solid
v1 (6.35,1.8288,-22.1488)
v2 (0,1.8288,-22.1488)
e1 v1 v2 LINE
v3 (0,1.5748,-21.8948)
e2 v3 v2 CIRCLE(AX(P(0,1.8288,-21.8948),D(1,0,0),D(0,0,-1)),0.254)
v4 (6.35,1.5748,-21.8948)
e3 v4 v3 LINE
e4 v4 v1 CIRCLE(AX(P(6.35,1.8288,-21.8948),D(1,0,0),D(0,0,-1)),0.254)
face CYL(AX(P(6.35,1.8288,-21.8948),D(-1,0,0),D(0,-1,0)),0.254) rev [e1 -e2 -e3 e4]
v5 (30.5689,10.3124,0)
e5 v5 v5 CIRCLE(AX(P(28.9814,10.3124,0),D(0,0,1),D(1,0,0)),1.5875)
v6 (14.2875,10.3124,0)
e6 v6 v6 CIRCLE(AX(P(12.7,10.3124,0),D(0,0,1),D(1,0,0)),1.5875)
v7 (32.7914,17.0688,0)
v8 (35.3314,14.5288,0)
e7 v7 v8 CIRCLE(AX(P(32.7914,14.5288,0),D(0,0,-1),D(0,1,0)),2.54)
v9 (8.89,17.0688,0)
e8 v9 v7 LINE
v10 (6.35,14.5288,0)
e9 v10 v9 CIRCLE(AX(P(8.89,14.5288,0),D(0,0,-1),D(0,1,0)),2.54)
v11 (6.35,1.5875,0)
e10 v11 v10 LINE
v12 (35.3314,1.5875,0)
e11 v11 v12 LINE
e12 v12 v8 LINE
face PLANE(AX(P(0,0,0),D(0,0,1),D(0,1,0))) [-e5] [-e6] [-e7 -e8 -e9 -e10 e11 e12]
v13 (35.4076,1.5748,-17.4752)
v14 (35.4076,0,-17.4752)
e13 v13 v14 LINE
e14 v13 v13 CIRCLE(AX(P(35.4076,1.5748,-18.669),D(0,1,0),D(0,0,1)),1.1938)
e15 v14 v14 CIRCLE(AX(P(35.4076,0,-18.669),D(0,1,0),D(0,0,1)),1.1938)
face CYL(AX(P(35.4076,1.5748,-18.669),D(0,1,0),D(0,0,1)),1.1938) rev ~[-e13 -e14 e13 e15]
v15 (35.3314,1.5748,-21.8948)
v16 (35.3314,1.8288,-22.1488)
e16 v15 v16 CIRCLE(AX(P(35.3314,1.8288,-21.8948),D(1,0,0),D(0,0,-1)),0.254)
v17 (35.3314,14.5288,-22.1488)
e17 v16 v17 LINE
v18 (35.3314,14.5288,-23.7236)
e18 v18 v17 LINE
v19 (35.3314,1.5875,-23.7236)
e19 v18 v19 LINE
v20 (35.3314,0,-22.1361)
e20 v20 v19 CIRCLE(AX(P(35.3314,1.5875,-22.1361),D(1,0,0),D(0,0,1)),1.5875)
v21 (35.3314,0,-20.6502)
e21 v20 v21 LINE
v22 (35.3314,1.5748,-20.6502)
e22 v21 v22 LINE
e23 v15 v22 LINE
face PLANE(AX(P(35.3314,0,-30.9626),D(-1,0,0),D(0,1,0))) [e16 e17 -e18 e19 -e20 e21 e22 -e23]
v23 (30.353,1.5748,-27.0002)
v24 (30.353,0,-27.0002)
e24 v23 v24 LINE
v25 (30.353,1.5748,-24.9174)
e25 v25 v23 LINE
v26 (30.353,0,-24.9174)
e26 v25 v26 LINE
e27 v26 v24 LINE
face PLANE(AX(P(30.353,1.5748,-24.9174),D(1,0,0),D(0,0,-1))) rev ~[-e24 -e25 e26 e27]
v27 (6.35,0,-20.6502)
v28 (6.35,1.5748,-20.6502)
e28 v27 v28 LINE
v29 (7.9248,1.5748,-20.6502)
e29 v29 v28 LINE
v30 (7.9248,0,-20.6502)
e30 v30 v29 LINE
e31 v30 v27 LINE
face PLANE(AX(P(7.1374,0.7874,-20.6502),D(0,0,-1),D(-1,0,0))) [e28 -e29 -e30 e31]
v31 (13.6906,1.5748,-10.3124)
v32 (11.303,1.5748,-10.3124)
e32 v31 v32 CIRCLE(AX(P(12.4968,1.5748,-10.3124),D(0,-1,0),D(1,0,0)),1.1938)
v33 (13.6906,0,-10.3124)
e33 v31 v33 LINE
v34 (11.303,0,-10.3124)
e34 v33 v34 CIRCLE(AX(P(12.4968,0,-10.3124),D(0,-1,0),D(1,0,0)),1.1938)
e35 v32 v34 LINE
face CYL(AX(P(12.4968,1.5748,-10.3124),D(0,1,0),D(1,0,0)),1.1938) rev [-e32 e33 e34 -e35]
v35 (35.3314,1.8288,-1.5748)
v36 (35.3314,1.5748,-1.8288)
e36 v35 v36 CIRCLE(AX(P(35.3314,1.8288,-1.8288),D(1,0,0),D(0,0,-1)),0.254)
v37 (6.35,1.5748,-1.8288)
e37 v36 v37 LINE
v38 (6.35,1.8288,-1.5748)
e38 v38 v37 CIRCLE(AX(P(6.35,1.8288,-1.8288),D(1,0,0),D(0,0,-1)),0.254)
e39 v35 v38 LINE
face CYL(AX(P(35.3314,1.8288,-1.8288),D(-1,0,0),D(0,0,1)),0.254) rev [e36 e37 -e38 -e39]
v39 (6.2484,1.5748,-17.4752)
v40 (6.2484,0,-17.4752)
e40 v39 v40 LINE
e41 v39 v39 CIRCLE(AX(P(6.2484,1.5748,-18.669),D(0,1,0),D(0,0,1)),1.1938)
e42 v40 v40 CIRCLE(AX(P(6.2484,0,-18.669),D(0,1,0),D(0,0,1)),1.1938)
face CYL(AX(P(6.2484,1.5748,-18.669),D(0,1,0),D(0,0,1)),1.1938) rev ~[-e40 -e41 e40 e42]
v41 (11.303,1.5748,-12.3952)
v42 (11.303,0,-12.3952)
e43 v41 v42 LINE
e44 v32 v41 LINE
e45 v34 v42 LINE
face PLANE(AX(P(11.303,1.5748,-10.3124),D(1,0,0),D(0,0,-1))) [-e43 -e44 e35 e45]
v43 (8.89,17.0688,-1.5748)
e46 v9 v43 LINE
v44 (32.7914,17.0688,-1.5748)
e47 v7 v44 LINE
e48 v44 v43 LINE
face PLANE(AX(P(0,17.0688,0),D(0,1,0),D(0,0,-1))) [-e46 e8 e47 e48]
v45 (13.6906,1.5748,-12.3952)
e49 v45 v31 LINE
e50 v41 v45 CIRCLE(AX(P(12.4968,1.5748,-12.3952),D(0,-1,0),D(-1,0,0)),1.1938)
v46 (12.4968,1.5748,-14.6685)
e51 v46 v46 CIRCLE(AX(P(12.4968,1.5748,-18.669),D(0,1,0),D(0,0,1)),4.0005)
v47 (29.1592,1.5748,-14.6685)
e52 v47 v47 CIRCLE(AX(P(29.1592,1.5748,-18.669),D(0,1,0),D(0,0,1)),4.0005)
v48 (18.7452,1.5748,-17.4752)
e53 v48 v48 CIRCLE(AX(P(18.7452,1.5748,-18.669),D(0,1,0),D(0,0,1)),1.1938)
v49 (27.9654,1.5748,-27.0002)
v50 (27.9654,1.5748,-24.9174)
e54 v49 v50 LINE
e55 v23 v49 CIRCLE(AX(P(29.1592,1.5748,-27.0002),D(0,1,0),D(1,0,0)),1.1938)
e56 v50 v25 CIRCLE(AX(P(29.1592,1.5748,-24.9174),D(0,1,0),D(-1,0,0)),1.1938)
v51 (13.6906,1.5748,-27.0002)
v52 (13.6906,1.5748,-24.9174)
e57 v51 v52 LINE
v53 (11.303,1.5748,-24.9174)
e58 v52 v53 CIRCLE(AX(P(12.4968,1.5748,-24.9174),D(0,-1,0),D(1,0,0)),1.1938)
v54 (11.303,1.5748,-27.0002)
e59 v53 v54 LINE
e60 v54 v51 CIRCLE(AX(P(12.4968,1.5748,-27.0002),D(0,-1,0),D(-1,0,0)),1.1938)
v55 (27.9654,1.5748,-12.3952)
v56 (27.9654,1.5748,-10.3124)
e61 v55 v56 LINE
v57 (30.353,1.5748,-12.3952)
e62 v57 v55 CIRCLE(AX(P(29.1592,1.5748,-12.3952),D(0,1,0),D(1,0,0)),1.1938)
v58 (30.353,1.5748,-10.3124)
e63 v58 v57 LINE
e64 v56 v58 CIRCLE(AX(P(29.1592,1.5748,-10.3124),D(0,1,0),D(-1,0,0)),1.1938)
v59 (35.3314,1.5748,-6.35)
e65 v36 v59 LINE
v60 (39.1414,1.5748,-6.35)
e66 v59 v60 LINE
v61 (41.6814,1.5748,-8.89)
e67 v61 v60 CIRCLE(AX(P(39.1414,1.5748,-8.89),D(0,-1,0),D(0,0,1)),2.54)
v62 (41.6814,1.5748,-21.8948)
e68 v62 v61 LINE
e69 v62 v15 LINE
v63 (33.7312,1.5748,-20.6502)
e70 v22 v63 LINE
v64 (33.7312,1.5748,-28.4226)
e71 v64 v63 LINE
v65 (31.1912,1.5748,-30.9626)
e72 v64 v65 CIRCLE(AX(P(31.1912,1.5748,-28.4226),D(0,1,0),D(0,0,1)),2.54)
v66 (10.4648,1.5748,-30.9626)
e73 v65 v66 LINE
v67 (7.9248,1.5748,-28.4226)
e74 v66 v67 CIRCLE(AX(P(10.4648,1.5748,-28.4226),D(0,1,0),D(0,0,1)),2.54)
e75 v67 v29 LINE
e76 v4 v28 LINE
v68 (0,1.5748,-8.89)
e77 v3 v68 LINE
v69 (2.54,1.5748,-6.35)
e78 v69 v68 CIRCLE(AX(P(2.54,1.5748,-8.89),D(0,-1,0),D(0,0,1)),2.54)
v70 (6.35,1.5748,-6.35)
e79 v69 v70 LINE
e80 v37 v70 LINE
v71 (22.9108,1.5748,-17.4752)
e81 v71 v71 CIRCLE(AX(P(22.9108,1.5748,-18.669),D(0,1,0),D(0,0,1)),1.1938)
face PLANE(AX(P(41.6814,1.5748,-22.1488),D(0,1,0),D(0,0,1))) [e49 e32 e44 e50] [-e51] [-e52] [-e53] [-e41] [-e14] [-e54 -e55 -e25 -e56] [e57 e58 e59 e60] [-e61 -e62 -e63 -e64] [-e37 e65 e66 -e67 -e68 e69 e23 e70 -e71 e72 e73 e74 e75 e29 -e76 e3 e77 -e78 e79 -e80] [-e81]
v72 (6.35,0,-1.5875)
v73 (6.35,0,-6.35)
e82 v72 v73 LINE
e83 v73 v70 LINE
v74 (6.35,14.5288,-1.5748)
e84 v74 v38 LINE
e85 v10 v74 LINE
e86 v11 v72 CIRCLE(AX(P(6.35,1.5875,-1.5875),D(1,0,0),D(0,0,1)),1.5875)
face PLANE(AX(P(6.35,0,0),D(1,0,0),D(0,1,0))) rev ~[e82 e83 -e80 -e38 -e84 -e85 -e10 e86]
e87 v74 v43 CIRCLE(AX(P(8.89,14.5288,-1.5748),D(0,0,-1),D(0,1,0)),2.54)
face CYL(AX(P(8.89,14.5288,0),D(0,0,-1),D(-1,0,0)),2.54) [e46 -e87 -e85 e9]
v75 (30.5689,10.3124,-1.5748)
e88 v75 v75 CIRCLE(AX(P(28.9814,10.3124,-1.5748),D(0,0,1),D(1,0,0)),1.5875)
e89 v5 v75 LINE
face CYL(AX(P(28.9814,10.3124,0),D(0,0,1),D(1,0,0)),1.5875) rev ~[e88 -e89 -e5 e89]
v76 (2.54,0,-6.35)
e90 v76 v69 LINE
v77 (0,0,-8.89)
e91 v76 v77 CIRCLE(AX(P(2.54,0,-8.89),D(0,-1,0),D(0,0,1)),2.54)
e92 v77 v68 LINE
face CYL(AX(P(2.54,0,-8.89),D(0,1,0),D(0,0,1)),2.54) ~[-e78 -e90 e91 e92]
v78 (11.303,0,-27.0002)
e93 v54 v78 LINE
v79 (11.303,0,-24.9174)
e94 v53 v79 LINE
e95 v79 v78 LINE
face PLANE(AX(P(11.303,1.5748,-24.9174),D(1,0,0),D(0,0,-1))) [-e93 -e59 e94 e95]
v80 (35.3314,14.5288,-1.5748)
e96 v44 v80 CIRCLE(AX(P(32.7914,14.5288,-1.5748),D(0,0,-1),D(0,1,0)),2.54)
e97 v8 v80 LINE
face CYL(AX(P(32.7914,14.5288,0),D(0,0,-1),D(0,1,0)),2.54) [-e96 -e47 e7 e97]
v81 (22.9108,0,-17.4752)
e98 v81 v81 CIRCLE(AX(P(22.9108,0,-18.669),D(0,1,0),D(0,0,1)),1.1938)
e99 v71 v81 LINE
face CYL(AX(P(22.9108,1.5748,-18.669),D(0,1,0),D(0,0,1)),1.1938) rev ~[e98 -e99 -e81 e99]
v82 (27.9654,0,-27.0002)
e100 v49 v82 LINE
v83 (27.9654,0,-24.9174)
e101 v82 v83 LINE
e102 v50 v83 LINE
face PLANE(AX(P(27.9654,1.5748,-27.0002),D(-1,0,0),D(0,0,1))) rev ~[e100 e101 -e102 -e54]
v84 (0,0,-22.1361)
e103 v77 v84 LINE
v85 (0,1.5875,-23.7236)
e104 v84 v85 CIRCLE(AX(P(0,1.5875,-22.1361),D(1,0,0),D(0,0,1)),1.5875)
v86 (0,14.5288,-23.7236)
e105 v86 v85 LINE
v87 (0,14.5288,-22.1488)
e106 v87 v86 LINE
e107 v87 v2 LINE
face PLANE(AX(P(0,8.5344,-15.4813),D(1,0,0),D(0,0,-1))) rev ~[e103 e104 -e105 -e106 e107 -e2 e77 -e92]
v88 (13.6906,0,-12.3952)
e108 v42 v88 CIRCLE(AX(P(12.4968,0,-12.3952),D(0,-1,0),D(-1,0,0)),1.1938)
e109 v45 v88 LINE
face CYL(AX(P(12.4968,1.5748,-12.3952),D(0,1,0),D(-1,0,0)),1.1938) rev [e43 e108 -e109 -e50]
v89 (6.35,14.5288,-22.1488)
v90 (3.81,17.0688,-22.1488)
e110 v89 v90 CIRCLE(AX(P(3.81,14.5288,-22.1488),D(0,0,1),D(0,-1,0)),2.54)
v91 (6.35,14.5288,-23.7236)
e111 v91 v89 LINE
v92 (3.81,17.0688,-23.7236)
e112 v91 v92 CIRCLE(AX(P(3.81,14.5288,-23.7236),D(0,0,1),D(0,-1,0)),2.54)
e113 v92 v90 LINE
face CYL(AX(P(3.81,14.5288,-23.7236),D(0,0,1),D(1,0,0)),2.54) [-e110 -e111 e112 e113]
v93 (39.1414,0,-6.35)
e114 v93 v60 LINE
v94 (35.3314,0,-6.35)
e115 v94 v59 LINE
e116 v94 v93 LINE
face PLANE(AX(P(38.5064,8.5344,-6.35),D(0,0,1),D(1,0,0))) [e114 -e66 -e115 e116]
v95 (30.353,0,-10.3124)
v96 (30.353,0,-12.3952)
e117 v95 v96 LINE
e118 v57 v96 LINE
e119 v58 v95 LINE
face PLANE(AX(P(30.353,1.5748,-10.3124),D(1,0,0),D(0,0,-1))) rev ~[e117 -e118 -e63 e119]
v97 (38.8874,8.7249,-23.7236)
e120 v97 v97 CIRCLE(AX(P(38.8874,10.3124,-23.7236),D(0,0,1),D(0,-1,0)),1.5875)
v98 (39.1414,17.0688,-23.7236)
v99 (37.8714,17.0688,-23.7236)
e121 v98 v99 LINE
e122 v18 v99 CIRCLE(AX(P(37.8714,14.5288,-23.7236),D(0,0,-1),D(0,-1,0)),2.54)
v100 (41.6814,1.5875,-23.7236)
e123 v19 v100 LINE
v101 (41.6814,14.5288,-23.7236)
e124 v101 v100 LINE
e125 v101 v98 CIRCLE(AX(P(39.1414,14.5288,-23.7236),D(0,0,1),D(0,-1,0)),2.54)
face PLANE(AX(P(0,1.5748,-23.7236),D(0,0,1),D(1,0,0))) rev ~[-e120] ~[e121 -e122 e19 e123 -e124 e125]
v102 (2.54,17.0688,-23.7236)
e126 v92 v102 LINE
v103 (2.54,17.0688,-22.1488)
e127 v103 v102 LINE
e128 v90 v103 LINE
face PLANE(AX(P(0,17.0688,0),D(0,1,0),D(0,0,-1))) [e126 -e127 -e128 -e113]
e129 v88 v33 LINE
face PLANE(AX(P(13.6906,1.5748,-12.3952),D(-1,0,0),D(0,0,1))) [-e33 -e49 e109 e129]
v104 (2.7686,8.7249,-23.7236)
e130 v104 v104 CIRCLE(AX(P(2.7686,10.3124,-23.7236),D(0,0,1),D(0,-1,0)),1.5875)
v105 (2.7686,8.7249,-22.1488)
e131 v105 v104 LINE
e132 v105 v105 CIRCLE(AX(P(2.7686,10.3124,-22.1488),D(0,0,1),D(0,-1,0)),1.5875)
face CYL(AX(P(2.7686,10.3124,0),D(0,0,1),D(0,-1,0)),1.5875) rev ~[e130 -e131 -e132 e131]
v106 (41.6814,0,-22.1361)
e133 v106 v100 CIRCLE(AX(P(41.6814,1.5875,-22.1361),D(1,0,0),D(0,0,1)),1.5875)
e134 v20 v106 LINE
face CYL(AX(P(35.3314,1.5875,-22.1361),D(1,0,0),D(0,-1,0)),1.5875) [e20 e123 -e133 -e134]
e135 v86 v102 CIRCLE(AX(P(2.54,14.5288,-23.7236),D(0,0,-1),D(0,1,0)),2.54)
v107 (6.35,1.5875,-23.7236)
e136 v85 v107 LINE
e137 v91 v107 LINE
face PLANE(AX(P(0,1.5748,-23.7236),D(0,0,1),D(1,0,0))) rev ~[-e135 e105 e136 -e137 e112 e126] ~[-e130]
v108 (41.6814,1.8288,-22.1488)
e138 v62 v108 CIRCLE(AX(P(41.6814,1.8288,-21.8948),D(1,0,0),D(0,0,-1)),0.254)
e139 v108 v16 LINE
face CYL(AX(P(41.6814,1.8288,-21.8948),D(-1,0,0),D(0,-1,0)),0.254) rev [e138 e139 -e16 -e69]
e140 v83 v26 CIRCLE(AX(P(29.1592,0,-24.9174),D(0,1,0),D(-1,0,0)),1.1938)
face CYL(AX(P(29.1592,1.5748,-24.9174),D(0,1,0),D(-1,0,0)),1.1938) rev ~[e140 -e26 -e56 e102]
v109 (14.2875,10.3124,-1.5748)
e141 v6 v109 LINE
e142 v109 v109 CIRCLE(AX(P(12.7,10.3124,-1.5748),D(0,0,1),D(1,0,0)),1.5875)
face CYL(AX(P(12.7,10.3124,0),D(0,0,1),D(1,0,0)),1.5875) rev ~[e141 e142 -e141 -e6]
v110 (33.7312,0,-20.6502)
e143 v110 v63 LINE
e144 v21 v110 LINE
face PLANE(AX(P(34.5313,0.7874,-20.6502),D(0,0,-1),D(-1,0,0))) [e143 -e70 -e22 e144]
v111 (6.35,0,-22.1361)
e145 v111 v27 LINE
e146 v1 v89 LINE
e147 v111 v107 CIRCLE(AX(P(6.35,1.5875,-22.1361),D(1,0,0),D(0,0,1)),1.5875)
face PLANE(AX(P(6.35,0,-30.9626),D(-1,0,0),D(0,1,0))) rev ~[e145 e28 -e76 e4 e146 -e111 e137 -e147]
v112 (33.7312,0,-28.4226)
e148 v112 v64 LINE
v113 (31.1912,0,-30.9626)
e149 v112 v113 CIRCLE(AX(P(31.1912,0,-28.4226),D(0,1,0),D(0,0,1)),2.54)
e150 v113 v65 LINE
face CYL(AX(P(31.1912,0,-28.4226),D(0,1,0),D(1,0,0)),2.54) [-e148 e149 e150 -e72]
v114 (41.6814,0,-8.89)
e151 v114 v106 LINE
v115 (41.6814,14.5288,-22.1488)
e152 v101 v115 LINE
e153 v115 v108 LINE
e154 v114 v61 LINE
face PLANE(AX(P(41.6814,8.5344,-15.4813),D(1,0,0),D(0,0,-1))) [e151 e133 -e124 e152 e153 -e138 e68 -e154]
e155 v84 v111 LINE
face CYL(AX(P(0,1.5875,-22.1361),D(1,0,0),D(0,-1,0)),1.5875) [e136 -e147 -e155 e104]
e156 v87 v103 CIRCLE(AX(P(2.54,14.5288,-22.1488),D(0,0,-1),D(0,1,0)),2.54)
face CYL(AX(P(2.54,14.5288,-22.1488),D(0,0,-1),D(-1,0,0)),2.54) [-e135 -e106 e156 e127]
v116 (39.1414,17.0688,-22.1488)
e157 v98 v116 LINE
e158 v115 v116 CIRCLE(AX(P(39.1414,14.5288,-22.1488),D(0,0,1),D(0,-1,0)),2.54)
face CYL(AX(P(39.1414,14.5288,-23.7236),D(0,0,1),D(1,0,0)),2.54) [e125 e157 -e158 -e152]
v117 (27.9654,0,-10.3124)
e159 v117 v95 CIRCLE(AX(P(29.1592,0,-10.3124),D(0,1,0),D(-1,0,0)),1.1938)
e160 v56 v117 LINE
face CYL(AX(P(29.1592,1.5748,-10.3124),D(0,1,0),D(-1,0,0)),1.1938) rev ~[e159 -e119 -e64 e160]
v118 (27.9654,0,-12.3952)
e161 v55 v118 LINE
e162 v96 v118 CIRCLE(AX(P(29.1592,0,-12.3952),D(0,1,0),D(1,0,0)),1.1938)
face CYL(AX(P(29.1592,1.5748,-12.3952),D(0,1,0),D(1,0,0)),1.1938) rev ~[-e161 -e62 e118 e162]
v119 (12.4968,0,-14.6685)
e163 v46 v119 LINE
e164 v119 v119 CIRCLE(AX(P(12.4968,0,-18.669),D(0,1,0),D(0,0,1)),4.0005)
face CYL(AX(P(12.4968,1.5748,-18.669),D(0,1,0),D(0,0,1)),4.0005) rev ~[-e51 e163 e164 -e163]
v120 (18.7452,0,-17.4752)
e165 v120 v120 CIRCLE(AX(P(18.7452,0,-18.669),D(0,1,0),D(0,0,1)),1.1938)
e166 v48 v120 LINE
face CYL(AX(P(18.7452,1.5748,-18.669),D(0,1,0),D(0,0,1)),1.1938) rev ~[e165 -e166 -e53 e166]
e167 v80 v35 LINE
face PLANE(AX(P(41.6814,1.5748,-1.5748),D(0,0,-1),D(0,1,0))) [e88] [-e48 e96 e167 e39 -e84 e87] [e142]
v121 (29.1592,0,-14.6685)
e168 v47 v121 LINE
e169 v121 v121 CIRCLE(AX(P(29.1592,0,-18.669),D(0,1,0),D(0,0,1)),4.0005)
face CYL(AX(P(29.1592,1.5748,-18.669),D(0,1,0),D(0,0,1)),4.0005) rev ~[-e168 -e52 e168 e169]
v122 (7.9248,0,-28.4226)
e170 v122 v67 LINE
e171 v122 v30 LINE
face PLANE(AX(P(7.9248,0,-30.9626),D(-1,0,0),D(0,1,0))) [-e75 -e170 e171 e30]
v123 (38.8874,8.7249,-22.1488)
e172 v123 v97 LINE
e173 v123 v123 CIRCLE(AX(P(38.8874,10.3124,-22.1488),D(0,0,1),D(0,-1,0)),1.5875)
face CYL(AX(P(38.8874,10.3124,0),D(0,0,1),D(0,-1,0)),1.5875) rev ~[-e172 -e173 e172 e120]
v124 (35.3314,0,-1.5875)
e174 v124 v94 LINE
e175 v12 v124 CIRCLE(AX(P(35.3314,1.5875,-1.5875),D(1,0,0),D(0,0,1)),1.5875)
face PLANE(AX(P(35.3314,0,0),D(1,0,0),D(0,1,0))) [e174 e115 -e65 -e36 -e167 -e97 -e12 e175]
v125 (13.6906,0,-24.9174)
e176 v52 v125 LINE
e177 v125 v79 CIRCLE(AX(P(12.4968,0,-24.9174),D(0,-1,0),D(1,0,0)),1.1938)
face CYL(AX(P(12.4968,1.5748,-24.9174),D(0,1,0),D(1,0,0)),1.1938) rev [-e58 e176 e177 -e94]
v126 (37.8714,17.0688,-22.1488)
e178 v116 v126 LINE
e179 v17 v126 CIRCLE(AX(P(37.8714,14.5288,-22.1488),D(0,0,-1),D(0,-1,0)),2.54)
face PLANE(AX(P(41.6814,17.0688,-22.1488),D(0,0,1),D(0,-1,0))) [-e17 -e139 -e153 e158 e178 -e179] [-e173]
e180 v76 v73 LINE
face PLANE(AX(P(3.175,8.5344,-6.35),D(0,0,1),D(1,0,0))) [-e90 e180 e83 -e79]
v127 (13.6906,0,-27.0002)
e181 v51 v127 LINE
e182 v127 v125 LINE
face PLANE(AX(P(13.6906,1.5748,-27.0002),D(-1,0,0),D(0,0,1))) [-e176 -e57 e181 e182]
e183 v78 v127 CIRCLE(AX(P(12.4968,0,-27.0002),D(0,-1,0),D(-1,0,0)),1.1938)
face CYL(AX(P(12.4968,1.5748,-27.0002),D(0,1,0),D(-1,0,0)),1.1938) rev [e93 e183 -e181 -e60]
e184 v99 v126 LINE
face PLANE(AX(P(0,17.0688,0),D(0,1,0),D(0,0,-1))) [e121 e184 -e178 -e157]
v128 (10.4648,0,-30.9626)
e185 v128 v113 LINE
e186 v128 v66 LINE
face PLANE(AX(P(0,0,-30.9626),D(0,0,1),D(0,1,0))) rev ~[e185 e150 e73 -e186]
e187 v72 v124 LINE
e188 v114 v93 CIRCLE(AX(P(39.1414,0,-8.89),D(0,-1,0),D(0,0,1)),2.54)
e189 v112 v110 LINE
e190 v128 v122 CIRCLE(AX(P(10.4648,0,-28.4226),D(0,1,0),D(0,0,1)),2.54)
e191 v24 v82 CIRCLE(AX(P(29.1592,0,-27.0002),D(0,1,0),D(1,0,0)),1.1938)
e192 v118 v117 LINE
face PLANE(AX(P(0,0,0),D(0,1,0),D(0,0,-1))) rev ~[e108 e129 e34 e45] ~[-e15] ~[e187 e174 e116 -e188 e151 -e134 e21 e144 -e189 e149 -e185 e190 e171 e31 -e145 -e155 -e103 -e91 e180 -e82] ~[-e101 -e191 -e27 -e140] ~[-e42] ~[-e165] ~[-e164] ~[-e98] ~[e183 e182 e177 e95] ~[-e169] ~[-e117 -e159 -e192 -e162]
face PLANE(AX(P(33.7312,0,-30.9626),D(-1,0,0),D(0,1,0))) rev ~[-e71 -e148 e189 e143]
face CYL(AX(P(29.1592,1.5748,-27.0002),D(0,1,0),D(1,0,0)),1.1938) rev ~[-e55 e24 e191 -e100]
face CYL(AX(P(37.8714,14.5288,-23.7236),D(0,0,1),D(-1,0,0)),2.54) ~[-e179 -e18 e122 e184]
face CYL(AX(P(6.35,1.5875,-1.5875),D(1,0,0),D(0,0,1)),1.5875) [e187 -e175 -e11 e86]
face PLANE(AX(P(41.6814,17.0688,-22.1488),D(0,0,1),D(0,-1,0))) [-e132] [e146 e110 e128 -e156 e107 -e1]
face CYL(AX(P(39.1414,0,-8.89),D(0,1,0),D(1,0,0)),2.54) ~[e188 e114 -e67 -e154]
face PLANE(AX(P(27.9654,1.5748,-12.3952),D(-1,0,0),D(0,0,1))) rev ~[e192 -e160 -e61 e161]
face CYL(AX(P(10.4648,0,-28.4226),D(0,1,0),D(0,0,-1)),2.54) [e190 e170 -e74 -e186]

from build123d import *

# Parameters (mm, degrees)
SKETCH1_W         = 30.9626
SKETCH1_H         = 17.0688
EXTRUDE1_DEPTH    = 41.6814
SKETCH3_OUTSIDE_W = 43.895
SKETCH3_OUTSIDE_H = 30.001
EXTRUDE2_DEPTH    = 42.6814
SKETCH4_W         = 6.35
SKETCH4_H         = 17.0688
EXTRUDE3_DEPTH    = 6.35
SKETCH5_W         = 6.35
SKETCH5_H         = 7.239
EXTRUDE4_DEPTH    = 1.5748
SKETCH6_W         = 28.9814
SKETCH6_H         = 15.494
EXTRUDE5_DEPTH    = 1.5748
SKETCH7_W         = 1.6002
SKETCH7_H         = 1.5748
SKETCH7_W_2       = 1.5748
EXTRUDE6_DEPTH    = 10.3124
FILLET1_R         = 1.5875
FILLET2_R         = 0.254
SKETCH8_R         = 4.0005
SKETCH8_R_2       = 1.1938
EXTRUDE7_DEPTH    = 1.5748
SKETCH9_R         = 1.5875
EXTRUDE9_DEPTH    = 31.9626
FILLET3_R         = 2.54


with BuildPart() as part:
    # Sketch1 → Extrude1 (new body)
    with BuildSketch(Plane(origin=(0, 0, 0), x_dir=(0, 0, -1), z_dir=(1, 0, 0))):
        with Locations((15.4813, 8.5344)):
            Rectangle(SKETCH1_W, SKETCH1_H)
    extrude(amount=EXTRUDE1_DEPTH)

    # Sketch3 outside → Extrude2 (cut, through all)
    with BuildSketch(Plane(origin=(41.6814, 0, 0), x_dir=(0, 0, -1), z_dir=(1, 0, 0))):
        with Locations((15.4815, 8.5345)):
            Rectangle(SKETCH3_OUTSIDE_W, SKETCH3_OUTSIDE_H)
        Polygon((0, 17.0688), (0, 0), (30.9626, 0), (30.9626, 1.5748), (23.7236, 1.5748), (23.7236, 17.0688), (22.1488, 17.0688), (22.1488, 1.5748), (1.5748, 1.5748), (1.5748, 17.0688), align=None, mode=Mode.SUBTRACT)
    extrude(amount=-EXTRUDE2_DEPTH, mode=Mode.SUBTRACT)

    # Sketch4 → Extrude3 (cut)
    with BuildSketch(Plane.XY):
        with Locations((3.175, 8.5344)):
            Rectangle(SKETCH4_W, SKETCH4_H)
        with Locations((38.5064, 8.5344)):
            Rectangle(SKETCH4_W, SKETCH4_H)
    extrude(amount=-EXTRUDE3_DEPTH, mode=Mode.SUBTRACT)

    # Sketch5 → Extrude4 (cut)
    with BuildSketch(Plane(origin=(0, 1.5748, 0), x_dir=(1, 0, 0), z_dir=(0, 1, 0))):
        with Locations((3.175, 27.3431)):
            Rectangle(SKETCH5_W, SKETCH5_H)
        with Locations((38.5064, 27.3431)):
            Rectangle(SKETCH5_W, SKETCH5_H)
    extrude(amount=-EXTRUDE4_DEPTH, mode=Mode.SUBTRACT)

    # Sketch6 → Extrude5 (cut)
    with BuildSketch(Plane(origin=(0, 0, -23.7236), x_dir=(-1, 0, 0), z_dir=(0, 0, -1))):
        with Locations((-20.8407, 9.3218)):
            Rectangle(SKETCH6_W, SKETCH6_H)
    extrude(amount=-EXTRUDE5_DEPTH, mode=Mode.SUBTRACT)

    # Sketch7 → Extrude6 (cut)
    with BuildSketch(Plane(origin=(0, 0, -30.9626), x_dir=(-1, 0, 0), z_dir=(0, 0, -1))):
        with Locations((-34.5313, 0.7874)):
            Rectangle(SKETCH7_W, SKETCH7_H)
        with Locations((-7.1374, 0.7874)):
            Rectangle(SKETCH7_W_2, SKETCH7_H)
    extrude(amount=-EXTRUDE6_DEPTH, mode=Mode.SUBTRACT)

    # Fillet1
    fillet1_edges = [part.edges().sort_by_distance(p)[0] for p in [
        (3.175, 0, -23.7236),
        (38.5064, 0, -23.7236),
        (20.8407, 0, 0),
    ]]
    fillet(fillet1_edges, radius=FILLET1_R)

    # Fillet2
    fillet2_edges = [part.edges().sort_by_distance(p)[0] for p in [
        (38.5064, 1.5748, -22.1488),
        (3.175, 1.5748, -22.1488),
        (20.8407, 1.5748, -1.5748),
    ]]
    fillet(fillet2_edges, radius=FILLET2_R)

    # Sketch8 → Extrude7 (cut)
    with BuildSketch(Plane(origin=(0, 1.5748, 0), x_dir=(1, 0, 0), z_dir=(0, 1, 0))):
        with Locations(Location((12.4968, 18.669, 0), (0, 0, 270))):  # turned: the seam where the file's is
            Circle(SKETCH8_R)
        with Locations(Location((18.7452, 18.669, 0), (0, 0, 270))):  # turned: the seam where the file's is
            Circle(SKETCH8_R_2)
        with Locations(Location((6.2484, 18.669, 0), (0, 0, 270))):  # turned: the seam where the file's is
            Circle(SKETCH8_R_2)
        with Locations(Location((22.9108, 18.669, 0), (0, 0, 270))):  # turned: the seam where the file's is
            Circle(SKETCH8_R_2)
        with Locations(Location((29.1592, 18.669, 0), (0, 0, 270))):  # turned: the seam where the file's is
            Circle(SKETCH8_R)
        with Locations(Location((35.4076, 18.669, 0), (0, 0, 270))):  # turned: the seam where the file's is
            Circle(SKETCH8_R_2)
        with BuildLine():
            Line((13.6906, 27.0002), (13.6906, 24.9174))
            ThreePointArc((13.6906, 24.9174), (12.4968, 23.7236), (11.303, 24.9174))
            Line((11.303, 24.9174), (11.303, 27.0002))
            ThreePointArc((11.303, 27.0002), (12.4968, 28.194), (13.6906, 27.0002))
        make_face()
        with BuildLine():
            Line((13.6906, 12.3952), (13.6906, 10.3124))
            ThreePointArc((13.6906, 10.3124), (12.4968, 9.1186), (11.303, 10.3124))
            Line((11.303, 10.3124), (11.303, 12.3952))
            ThreePointArc((11.303, 12.3952), (12.4968, 13.589), (13.6906, 12.3952))
        make_face()
        with BuildLine():
            Line((27.9654, 12.3952), (27.9654, 10.3124))
            ThreePointArc((27.9654, 10.3124), (29.1592, 9.1186), (30.353, 10.3124))
            Line((30.353, 10.3124), (30.353, 12.3952))
            ThreePointArc((30.353, 12.3952), (29.1592, 13.589), (27.9654, 12.3952))
        make_face()
        with BuildLine():
            Line((27.9654, 27.0002), (27.9654, 24.9174))
            ThreePointArc((27.9654, 24.9174), (29.1592, 23.7236), (30.353, 24.9174))
            Line((30.353, 24.9174), (30.353, 27.0002))
            ThreePointArc((30.353, 27.0002), (29.1592, 28.194), (27.9654, 27.0002))
        make_face()
    extrude(amount=-EXTRUDE7_DEPTH, mode=Mode.SUBTRACT)

    # Sketch9 → Extrude9 (cut, through all)
    with BuildSketch(Plane.XY):
        with Locations(Location((2.7686, 10.3124, 0), (0, 0, 270))):  # turned: the seam where the file's is
            Circle(SKETCH9_R)
        with Locations((12.7, 10.3124)):
            Circle(SKETCH9_R)
        with Locations((28.9814, 10.3124)):
            Circle(SKETCH9_R)
        with Locations(Location((38.8874, 10.3124, 0), (0, 0, 270))):  # turned: the seam where the file's is
            Circle(SKETCH9_R)
    extrude(amount=-EXTRUDE9_DEPTH, mode=Mode.SUBTRACT)

    # Fillet3
    fillet3_edges = [part.edges().sort_by_distance(p)[0] for p in [
        (6.35, 17.0688, -22.9362),
        (35.3314, 17.0688, -22.9362),
        (0, 17.0688, -22.9362),
        (33.7312, 0.7874, -30.9626),
        (7.9248, 0.7874, -30.9626),
        (41.6814, 17.0688, -22.9362),
        (0, 0.7874, -6.35),
        (6.35, 17.0688, -0.7874),
        (35.3314, 17.0688, -0.7874),
        (41.6814, 0.7874, -6.35),
    ]]
    fillet(fillet3_edges, radius=FILLET3_R)


solid = part.part
